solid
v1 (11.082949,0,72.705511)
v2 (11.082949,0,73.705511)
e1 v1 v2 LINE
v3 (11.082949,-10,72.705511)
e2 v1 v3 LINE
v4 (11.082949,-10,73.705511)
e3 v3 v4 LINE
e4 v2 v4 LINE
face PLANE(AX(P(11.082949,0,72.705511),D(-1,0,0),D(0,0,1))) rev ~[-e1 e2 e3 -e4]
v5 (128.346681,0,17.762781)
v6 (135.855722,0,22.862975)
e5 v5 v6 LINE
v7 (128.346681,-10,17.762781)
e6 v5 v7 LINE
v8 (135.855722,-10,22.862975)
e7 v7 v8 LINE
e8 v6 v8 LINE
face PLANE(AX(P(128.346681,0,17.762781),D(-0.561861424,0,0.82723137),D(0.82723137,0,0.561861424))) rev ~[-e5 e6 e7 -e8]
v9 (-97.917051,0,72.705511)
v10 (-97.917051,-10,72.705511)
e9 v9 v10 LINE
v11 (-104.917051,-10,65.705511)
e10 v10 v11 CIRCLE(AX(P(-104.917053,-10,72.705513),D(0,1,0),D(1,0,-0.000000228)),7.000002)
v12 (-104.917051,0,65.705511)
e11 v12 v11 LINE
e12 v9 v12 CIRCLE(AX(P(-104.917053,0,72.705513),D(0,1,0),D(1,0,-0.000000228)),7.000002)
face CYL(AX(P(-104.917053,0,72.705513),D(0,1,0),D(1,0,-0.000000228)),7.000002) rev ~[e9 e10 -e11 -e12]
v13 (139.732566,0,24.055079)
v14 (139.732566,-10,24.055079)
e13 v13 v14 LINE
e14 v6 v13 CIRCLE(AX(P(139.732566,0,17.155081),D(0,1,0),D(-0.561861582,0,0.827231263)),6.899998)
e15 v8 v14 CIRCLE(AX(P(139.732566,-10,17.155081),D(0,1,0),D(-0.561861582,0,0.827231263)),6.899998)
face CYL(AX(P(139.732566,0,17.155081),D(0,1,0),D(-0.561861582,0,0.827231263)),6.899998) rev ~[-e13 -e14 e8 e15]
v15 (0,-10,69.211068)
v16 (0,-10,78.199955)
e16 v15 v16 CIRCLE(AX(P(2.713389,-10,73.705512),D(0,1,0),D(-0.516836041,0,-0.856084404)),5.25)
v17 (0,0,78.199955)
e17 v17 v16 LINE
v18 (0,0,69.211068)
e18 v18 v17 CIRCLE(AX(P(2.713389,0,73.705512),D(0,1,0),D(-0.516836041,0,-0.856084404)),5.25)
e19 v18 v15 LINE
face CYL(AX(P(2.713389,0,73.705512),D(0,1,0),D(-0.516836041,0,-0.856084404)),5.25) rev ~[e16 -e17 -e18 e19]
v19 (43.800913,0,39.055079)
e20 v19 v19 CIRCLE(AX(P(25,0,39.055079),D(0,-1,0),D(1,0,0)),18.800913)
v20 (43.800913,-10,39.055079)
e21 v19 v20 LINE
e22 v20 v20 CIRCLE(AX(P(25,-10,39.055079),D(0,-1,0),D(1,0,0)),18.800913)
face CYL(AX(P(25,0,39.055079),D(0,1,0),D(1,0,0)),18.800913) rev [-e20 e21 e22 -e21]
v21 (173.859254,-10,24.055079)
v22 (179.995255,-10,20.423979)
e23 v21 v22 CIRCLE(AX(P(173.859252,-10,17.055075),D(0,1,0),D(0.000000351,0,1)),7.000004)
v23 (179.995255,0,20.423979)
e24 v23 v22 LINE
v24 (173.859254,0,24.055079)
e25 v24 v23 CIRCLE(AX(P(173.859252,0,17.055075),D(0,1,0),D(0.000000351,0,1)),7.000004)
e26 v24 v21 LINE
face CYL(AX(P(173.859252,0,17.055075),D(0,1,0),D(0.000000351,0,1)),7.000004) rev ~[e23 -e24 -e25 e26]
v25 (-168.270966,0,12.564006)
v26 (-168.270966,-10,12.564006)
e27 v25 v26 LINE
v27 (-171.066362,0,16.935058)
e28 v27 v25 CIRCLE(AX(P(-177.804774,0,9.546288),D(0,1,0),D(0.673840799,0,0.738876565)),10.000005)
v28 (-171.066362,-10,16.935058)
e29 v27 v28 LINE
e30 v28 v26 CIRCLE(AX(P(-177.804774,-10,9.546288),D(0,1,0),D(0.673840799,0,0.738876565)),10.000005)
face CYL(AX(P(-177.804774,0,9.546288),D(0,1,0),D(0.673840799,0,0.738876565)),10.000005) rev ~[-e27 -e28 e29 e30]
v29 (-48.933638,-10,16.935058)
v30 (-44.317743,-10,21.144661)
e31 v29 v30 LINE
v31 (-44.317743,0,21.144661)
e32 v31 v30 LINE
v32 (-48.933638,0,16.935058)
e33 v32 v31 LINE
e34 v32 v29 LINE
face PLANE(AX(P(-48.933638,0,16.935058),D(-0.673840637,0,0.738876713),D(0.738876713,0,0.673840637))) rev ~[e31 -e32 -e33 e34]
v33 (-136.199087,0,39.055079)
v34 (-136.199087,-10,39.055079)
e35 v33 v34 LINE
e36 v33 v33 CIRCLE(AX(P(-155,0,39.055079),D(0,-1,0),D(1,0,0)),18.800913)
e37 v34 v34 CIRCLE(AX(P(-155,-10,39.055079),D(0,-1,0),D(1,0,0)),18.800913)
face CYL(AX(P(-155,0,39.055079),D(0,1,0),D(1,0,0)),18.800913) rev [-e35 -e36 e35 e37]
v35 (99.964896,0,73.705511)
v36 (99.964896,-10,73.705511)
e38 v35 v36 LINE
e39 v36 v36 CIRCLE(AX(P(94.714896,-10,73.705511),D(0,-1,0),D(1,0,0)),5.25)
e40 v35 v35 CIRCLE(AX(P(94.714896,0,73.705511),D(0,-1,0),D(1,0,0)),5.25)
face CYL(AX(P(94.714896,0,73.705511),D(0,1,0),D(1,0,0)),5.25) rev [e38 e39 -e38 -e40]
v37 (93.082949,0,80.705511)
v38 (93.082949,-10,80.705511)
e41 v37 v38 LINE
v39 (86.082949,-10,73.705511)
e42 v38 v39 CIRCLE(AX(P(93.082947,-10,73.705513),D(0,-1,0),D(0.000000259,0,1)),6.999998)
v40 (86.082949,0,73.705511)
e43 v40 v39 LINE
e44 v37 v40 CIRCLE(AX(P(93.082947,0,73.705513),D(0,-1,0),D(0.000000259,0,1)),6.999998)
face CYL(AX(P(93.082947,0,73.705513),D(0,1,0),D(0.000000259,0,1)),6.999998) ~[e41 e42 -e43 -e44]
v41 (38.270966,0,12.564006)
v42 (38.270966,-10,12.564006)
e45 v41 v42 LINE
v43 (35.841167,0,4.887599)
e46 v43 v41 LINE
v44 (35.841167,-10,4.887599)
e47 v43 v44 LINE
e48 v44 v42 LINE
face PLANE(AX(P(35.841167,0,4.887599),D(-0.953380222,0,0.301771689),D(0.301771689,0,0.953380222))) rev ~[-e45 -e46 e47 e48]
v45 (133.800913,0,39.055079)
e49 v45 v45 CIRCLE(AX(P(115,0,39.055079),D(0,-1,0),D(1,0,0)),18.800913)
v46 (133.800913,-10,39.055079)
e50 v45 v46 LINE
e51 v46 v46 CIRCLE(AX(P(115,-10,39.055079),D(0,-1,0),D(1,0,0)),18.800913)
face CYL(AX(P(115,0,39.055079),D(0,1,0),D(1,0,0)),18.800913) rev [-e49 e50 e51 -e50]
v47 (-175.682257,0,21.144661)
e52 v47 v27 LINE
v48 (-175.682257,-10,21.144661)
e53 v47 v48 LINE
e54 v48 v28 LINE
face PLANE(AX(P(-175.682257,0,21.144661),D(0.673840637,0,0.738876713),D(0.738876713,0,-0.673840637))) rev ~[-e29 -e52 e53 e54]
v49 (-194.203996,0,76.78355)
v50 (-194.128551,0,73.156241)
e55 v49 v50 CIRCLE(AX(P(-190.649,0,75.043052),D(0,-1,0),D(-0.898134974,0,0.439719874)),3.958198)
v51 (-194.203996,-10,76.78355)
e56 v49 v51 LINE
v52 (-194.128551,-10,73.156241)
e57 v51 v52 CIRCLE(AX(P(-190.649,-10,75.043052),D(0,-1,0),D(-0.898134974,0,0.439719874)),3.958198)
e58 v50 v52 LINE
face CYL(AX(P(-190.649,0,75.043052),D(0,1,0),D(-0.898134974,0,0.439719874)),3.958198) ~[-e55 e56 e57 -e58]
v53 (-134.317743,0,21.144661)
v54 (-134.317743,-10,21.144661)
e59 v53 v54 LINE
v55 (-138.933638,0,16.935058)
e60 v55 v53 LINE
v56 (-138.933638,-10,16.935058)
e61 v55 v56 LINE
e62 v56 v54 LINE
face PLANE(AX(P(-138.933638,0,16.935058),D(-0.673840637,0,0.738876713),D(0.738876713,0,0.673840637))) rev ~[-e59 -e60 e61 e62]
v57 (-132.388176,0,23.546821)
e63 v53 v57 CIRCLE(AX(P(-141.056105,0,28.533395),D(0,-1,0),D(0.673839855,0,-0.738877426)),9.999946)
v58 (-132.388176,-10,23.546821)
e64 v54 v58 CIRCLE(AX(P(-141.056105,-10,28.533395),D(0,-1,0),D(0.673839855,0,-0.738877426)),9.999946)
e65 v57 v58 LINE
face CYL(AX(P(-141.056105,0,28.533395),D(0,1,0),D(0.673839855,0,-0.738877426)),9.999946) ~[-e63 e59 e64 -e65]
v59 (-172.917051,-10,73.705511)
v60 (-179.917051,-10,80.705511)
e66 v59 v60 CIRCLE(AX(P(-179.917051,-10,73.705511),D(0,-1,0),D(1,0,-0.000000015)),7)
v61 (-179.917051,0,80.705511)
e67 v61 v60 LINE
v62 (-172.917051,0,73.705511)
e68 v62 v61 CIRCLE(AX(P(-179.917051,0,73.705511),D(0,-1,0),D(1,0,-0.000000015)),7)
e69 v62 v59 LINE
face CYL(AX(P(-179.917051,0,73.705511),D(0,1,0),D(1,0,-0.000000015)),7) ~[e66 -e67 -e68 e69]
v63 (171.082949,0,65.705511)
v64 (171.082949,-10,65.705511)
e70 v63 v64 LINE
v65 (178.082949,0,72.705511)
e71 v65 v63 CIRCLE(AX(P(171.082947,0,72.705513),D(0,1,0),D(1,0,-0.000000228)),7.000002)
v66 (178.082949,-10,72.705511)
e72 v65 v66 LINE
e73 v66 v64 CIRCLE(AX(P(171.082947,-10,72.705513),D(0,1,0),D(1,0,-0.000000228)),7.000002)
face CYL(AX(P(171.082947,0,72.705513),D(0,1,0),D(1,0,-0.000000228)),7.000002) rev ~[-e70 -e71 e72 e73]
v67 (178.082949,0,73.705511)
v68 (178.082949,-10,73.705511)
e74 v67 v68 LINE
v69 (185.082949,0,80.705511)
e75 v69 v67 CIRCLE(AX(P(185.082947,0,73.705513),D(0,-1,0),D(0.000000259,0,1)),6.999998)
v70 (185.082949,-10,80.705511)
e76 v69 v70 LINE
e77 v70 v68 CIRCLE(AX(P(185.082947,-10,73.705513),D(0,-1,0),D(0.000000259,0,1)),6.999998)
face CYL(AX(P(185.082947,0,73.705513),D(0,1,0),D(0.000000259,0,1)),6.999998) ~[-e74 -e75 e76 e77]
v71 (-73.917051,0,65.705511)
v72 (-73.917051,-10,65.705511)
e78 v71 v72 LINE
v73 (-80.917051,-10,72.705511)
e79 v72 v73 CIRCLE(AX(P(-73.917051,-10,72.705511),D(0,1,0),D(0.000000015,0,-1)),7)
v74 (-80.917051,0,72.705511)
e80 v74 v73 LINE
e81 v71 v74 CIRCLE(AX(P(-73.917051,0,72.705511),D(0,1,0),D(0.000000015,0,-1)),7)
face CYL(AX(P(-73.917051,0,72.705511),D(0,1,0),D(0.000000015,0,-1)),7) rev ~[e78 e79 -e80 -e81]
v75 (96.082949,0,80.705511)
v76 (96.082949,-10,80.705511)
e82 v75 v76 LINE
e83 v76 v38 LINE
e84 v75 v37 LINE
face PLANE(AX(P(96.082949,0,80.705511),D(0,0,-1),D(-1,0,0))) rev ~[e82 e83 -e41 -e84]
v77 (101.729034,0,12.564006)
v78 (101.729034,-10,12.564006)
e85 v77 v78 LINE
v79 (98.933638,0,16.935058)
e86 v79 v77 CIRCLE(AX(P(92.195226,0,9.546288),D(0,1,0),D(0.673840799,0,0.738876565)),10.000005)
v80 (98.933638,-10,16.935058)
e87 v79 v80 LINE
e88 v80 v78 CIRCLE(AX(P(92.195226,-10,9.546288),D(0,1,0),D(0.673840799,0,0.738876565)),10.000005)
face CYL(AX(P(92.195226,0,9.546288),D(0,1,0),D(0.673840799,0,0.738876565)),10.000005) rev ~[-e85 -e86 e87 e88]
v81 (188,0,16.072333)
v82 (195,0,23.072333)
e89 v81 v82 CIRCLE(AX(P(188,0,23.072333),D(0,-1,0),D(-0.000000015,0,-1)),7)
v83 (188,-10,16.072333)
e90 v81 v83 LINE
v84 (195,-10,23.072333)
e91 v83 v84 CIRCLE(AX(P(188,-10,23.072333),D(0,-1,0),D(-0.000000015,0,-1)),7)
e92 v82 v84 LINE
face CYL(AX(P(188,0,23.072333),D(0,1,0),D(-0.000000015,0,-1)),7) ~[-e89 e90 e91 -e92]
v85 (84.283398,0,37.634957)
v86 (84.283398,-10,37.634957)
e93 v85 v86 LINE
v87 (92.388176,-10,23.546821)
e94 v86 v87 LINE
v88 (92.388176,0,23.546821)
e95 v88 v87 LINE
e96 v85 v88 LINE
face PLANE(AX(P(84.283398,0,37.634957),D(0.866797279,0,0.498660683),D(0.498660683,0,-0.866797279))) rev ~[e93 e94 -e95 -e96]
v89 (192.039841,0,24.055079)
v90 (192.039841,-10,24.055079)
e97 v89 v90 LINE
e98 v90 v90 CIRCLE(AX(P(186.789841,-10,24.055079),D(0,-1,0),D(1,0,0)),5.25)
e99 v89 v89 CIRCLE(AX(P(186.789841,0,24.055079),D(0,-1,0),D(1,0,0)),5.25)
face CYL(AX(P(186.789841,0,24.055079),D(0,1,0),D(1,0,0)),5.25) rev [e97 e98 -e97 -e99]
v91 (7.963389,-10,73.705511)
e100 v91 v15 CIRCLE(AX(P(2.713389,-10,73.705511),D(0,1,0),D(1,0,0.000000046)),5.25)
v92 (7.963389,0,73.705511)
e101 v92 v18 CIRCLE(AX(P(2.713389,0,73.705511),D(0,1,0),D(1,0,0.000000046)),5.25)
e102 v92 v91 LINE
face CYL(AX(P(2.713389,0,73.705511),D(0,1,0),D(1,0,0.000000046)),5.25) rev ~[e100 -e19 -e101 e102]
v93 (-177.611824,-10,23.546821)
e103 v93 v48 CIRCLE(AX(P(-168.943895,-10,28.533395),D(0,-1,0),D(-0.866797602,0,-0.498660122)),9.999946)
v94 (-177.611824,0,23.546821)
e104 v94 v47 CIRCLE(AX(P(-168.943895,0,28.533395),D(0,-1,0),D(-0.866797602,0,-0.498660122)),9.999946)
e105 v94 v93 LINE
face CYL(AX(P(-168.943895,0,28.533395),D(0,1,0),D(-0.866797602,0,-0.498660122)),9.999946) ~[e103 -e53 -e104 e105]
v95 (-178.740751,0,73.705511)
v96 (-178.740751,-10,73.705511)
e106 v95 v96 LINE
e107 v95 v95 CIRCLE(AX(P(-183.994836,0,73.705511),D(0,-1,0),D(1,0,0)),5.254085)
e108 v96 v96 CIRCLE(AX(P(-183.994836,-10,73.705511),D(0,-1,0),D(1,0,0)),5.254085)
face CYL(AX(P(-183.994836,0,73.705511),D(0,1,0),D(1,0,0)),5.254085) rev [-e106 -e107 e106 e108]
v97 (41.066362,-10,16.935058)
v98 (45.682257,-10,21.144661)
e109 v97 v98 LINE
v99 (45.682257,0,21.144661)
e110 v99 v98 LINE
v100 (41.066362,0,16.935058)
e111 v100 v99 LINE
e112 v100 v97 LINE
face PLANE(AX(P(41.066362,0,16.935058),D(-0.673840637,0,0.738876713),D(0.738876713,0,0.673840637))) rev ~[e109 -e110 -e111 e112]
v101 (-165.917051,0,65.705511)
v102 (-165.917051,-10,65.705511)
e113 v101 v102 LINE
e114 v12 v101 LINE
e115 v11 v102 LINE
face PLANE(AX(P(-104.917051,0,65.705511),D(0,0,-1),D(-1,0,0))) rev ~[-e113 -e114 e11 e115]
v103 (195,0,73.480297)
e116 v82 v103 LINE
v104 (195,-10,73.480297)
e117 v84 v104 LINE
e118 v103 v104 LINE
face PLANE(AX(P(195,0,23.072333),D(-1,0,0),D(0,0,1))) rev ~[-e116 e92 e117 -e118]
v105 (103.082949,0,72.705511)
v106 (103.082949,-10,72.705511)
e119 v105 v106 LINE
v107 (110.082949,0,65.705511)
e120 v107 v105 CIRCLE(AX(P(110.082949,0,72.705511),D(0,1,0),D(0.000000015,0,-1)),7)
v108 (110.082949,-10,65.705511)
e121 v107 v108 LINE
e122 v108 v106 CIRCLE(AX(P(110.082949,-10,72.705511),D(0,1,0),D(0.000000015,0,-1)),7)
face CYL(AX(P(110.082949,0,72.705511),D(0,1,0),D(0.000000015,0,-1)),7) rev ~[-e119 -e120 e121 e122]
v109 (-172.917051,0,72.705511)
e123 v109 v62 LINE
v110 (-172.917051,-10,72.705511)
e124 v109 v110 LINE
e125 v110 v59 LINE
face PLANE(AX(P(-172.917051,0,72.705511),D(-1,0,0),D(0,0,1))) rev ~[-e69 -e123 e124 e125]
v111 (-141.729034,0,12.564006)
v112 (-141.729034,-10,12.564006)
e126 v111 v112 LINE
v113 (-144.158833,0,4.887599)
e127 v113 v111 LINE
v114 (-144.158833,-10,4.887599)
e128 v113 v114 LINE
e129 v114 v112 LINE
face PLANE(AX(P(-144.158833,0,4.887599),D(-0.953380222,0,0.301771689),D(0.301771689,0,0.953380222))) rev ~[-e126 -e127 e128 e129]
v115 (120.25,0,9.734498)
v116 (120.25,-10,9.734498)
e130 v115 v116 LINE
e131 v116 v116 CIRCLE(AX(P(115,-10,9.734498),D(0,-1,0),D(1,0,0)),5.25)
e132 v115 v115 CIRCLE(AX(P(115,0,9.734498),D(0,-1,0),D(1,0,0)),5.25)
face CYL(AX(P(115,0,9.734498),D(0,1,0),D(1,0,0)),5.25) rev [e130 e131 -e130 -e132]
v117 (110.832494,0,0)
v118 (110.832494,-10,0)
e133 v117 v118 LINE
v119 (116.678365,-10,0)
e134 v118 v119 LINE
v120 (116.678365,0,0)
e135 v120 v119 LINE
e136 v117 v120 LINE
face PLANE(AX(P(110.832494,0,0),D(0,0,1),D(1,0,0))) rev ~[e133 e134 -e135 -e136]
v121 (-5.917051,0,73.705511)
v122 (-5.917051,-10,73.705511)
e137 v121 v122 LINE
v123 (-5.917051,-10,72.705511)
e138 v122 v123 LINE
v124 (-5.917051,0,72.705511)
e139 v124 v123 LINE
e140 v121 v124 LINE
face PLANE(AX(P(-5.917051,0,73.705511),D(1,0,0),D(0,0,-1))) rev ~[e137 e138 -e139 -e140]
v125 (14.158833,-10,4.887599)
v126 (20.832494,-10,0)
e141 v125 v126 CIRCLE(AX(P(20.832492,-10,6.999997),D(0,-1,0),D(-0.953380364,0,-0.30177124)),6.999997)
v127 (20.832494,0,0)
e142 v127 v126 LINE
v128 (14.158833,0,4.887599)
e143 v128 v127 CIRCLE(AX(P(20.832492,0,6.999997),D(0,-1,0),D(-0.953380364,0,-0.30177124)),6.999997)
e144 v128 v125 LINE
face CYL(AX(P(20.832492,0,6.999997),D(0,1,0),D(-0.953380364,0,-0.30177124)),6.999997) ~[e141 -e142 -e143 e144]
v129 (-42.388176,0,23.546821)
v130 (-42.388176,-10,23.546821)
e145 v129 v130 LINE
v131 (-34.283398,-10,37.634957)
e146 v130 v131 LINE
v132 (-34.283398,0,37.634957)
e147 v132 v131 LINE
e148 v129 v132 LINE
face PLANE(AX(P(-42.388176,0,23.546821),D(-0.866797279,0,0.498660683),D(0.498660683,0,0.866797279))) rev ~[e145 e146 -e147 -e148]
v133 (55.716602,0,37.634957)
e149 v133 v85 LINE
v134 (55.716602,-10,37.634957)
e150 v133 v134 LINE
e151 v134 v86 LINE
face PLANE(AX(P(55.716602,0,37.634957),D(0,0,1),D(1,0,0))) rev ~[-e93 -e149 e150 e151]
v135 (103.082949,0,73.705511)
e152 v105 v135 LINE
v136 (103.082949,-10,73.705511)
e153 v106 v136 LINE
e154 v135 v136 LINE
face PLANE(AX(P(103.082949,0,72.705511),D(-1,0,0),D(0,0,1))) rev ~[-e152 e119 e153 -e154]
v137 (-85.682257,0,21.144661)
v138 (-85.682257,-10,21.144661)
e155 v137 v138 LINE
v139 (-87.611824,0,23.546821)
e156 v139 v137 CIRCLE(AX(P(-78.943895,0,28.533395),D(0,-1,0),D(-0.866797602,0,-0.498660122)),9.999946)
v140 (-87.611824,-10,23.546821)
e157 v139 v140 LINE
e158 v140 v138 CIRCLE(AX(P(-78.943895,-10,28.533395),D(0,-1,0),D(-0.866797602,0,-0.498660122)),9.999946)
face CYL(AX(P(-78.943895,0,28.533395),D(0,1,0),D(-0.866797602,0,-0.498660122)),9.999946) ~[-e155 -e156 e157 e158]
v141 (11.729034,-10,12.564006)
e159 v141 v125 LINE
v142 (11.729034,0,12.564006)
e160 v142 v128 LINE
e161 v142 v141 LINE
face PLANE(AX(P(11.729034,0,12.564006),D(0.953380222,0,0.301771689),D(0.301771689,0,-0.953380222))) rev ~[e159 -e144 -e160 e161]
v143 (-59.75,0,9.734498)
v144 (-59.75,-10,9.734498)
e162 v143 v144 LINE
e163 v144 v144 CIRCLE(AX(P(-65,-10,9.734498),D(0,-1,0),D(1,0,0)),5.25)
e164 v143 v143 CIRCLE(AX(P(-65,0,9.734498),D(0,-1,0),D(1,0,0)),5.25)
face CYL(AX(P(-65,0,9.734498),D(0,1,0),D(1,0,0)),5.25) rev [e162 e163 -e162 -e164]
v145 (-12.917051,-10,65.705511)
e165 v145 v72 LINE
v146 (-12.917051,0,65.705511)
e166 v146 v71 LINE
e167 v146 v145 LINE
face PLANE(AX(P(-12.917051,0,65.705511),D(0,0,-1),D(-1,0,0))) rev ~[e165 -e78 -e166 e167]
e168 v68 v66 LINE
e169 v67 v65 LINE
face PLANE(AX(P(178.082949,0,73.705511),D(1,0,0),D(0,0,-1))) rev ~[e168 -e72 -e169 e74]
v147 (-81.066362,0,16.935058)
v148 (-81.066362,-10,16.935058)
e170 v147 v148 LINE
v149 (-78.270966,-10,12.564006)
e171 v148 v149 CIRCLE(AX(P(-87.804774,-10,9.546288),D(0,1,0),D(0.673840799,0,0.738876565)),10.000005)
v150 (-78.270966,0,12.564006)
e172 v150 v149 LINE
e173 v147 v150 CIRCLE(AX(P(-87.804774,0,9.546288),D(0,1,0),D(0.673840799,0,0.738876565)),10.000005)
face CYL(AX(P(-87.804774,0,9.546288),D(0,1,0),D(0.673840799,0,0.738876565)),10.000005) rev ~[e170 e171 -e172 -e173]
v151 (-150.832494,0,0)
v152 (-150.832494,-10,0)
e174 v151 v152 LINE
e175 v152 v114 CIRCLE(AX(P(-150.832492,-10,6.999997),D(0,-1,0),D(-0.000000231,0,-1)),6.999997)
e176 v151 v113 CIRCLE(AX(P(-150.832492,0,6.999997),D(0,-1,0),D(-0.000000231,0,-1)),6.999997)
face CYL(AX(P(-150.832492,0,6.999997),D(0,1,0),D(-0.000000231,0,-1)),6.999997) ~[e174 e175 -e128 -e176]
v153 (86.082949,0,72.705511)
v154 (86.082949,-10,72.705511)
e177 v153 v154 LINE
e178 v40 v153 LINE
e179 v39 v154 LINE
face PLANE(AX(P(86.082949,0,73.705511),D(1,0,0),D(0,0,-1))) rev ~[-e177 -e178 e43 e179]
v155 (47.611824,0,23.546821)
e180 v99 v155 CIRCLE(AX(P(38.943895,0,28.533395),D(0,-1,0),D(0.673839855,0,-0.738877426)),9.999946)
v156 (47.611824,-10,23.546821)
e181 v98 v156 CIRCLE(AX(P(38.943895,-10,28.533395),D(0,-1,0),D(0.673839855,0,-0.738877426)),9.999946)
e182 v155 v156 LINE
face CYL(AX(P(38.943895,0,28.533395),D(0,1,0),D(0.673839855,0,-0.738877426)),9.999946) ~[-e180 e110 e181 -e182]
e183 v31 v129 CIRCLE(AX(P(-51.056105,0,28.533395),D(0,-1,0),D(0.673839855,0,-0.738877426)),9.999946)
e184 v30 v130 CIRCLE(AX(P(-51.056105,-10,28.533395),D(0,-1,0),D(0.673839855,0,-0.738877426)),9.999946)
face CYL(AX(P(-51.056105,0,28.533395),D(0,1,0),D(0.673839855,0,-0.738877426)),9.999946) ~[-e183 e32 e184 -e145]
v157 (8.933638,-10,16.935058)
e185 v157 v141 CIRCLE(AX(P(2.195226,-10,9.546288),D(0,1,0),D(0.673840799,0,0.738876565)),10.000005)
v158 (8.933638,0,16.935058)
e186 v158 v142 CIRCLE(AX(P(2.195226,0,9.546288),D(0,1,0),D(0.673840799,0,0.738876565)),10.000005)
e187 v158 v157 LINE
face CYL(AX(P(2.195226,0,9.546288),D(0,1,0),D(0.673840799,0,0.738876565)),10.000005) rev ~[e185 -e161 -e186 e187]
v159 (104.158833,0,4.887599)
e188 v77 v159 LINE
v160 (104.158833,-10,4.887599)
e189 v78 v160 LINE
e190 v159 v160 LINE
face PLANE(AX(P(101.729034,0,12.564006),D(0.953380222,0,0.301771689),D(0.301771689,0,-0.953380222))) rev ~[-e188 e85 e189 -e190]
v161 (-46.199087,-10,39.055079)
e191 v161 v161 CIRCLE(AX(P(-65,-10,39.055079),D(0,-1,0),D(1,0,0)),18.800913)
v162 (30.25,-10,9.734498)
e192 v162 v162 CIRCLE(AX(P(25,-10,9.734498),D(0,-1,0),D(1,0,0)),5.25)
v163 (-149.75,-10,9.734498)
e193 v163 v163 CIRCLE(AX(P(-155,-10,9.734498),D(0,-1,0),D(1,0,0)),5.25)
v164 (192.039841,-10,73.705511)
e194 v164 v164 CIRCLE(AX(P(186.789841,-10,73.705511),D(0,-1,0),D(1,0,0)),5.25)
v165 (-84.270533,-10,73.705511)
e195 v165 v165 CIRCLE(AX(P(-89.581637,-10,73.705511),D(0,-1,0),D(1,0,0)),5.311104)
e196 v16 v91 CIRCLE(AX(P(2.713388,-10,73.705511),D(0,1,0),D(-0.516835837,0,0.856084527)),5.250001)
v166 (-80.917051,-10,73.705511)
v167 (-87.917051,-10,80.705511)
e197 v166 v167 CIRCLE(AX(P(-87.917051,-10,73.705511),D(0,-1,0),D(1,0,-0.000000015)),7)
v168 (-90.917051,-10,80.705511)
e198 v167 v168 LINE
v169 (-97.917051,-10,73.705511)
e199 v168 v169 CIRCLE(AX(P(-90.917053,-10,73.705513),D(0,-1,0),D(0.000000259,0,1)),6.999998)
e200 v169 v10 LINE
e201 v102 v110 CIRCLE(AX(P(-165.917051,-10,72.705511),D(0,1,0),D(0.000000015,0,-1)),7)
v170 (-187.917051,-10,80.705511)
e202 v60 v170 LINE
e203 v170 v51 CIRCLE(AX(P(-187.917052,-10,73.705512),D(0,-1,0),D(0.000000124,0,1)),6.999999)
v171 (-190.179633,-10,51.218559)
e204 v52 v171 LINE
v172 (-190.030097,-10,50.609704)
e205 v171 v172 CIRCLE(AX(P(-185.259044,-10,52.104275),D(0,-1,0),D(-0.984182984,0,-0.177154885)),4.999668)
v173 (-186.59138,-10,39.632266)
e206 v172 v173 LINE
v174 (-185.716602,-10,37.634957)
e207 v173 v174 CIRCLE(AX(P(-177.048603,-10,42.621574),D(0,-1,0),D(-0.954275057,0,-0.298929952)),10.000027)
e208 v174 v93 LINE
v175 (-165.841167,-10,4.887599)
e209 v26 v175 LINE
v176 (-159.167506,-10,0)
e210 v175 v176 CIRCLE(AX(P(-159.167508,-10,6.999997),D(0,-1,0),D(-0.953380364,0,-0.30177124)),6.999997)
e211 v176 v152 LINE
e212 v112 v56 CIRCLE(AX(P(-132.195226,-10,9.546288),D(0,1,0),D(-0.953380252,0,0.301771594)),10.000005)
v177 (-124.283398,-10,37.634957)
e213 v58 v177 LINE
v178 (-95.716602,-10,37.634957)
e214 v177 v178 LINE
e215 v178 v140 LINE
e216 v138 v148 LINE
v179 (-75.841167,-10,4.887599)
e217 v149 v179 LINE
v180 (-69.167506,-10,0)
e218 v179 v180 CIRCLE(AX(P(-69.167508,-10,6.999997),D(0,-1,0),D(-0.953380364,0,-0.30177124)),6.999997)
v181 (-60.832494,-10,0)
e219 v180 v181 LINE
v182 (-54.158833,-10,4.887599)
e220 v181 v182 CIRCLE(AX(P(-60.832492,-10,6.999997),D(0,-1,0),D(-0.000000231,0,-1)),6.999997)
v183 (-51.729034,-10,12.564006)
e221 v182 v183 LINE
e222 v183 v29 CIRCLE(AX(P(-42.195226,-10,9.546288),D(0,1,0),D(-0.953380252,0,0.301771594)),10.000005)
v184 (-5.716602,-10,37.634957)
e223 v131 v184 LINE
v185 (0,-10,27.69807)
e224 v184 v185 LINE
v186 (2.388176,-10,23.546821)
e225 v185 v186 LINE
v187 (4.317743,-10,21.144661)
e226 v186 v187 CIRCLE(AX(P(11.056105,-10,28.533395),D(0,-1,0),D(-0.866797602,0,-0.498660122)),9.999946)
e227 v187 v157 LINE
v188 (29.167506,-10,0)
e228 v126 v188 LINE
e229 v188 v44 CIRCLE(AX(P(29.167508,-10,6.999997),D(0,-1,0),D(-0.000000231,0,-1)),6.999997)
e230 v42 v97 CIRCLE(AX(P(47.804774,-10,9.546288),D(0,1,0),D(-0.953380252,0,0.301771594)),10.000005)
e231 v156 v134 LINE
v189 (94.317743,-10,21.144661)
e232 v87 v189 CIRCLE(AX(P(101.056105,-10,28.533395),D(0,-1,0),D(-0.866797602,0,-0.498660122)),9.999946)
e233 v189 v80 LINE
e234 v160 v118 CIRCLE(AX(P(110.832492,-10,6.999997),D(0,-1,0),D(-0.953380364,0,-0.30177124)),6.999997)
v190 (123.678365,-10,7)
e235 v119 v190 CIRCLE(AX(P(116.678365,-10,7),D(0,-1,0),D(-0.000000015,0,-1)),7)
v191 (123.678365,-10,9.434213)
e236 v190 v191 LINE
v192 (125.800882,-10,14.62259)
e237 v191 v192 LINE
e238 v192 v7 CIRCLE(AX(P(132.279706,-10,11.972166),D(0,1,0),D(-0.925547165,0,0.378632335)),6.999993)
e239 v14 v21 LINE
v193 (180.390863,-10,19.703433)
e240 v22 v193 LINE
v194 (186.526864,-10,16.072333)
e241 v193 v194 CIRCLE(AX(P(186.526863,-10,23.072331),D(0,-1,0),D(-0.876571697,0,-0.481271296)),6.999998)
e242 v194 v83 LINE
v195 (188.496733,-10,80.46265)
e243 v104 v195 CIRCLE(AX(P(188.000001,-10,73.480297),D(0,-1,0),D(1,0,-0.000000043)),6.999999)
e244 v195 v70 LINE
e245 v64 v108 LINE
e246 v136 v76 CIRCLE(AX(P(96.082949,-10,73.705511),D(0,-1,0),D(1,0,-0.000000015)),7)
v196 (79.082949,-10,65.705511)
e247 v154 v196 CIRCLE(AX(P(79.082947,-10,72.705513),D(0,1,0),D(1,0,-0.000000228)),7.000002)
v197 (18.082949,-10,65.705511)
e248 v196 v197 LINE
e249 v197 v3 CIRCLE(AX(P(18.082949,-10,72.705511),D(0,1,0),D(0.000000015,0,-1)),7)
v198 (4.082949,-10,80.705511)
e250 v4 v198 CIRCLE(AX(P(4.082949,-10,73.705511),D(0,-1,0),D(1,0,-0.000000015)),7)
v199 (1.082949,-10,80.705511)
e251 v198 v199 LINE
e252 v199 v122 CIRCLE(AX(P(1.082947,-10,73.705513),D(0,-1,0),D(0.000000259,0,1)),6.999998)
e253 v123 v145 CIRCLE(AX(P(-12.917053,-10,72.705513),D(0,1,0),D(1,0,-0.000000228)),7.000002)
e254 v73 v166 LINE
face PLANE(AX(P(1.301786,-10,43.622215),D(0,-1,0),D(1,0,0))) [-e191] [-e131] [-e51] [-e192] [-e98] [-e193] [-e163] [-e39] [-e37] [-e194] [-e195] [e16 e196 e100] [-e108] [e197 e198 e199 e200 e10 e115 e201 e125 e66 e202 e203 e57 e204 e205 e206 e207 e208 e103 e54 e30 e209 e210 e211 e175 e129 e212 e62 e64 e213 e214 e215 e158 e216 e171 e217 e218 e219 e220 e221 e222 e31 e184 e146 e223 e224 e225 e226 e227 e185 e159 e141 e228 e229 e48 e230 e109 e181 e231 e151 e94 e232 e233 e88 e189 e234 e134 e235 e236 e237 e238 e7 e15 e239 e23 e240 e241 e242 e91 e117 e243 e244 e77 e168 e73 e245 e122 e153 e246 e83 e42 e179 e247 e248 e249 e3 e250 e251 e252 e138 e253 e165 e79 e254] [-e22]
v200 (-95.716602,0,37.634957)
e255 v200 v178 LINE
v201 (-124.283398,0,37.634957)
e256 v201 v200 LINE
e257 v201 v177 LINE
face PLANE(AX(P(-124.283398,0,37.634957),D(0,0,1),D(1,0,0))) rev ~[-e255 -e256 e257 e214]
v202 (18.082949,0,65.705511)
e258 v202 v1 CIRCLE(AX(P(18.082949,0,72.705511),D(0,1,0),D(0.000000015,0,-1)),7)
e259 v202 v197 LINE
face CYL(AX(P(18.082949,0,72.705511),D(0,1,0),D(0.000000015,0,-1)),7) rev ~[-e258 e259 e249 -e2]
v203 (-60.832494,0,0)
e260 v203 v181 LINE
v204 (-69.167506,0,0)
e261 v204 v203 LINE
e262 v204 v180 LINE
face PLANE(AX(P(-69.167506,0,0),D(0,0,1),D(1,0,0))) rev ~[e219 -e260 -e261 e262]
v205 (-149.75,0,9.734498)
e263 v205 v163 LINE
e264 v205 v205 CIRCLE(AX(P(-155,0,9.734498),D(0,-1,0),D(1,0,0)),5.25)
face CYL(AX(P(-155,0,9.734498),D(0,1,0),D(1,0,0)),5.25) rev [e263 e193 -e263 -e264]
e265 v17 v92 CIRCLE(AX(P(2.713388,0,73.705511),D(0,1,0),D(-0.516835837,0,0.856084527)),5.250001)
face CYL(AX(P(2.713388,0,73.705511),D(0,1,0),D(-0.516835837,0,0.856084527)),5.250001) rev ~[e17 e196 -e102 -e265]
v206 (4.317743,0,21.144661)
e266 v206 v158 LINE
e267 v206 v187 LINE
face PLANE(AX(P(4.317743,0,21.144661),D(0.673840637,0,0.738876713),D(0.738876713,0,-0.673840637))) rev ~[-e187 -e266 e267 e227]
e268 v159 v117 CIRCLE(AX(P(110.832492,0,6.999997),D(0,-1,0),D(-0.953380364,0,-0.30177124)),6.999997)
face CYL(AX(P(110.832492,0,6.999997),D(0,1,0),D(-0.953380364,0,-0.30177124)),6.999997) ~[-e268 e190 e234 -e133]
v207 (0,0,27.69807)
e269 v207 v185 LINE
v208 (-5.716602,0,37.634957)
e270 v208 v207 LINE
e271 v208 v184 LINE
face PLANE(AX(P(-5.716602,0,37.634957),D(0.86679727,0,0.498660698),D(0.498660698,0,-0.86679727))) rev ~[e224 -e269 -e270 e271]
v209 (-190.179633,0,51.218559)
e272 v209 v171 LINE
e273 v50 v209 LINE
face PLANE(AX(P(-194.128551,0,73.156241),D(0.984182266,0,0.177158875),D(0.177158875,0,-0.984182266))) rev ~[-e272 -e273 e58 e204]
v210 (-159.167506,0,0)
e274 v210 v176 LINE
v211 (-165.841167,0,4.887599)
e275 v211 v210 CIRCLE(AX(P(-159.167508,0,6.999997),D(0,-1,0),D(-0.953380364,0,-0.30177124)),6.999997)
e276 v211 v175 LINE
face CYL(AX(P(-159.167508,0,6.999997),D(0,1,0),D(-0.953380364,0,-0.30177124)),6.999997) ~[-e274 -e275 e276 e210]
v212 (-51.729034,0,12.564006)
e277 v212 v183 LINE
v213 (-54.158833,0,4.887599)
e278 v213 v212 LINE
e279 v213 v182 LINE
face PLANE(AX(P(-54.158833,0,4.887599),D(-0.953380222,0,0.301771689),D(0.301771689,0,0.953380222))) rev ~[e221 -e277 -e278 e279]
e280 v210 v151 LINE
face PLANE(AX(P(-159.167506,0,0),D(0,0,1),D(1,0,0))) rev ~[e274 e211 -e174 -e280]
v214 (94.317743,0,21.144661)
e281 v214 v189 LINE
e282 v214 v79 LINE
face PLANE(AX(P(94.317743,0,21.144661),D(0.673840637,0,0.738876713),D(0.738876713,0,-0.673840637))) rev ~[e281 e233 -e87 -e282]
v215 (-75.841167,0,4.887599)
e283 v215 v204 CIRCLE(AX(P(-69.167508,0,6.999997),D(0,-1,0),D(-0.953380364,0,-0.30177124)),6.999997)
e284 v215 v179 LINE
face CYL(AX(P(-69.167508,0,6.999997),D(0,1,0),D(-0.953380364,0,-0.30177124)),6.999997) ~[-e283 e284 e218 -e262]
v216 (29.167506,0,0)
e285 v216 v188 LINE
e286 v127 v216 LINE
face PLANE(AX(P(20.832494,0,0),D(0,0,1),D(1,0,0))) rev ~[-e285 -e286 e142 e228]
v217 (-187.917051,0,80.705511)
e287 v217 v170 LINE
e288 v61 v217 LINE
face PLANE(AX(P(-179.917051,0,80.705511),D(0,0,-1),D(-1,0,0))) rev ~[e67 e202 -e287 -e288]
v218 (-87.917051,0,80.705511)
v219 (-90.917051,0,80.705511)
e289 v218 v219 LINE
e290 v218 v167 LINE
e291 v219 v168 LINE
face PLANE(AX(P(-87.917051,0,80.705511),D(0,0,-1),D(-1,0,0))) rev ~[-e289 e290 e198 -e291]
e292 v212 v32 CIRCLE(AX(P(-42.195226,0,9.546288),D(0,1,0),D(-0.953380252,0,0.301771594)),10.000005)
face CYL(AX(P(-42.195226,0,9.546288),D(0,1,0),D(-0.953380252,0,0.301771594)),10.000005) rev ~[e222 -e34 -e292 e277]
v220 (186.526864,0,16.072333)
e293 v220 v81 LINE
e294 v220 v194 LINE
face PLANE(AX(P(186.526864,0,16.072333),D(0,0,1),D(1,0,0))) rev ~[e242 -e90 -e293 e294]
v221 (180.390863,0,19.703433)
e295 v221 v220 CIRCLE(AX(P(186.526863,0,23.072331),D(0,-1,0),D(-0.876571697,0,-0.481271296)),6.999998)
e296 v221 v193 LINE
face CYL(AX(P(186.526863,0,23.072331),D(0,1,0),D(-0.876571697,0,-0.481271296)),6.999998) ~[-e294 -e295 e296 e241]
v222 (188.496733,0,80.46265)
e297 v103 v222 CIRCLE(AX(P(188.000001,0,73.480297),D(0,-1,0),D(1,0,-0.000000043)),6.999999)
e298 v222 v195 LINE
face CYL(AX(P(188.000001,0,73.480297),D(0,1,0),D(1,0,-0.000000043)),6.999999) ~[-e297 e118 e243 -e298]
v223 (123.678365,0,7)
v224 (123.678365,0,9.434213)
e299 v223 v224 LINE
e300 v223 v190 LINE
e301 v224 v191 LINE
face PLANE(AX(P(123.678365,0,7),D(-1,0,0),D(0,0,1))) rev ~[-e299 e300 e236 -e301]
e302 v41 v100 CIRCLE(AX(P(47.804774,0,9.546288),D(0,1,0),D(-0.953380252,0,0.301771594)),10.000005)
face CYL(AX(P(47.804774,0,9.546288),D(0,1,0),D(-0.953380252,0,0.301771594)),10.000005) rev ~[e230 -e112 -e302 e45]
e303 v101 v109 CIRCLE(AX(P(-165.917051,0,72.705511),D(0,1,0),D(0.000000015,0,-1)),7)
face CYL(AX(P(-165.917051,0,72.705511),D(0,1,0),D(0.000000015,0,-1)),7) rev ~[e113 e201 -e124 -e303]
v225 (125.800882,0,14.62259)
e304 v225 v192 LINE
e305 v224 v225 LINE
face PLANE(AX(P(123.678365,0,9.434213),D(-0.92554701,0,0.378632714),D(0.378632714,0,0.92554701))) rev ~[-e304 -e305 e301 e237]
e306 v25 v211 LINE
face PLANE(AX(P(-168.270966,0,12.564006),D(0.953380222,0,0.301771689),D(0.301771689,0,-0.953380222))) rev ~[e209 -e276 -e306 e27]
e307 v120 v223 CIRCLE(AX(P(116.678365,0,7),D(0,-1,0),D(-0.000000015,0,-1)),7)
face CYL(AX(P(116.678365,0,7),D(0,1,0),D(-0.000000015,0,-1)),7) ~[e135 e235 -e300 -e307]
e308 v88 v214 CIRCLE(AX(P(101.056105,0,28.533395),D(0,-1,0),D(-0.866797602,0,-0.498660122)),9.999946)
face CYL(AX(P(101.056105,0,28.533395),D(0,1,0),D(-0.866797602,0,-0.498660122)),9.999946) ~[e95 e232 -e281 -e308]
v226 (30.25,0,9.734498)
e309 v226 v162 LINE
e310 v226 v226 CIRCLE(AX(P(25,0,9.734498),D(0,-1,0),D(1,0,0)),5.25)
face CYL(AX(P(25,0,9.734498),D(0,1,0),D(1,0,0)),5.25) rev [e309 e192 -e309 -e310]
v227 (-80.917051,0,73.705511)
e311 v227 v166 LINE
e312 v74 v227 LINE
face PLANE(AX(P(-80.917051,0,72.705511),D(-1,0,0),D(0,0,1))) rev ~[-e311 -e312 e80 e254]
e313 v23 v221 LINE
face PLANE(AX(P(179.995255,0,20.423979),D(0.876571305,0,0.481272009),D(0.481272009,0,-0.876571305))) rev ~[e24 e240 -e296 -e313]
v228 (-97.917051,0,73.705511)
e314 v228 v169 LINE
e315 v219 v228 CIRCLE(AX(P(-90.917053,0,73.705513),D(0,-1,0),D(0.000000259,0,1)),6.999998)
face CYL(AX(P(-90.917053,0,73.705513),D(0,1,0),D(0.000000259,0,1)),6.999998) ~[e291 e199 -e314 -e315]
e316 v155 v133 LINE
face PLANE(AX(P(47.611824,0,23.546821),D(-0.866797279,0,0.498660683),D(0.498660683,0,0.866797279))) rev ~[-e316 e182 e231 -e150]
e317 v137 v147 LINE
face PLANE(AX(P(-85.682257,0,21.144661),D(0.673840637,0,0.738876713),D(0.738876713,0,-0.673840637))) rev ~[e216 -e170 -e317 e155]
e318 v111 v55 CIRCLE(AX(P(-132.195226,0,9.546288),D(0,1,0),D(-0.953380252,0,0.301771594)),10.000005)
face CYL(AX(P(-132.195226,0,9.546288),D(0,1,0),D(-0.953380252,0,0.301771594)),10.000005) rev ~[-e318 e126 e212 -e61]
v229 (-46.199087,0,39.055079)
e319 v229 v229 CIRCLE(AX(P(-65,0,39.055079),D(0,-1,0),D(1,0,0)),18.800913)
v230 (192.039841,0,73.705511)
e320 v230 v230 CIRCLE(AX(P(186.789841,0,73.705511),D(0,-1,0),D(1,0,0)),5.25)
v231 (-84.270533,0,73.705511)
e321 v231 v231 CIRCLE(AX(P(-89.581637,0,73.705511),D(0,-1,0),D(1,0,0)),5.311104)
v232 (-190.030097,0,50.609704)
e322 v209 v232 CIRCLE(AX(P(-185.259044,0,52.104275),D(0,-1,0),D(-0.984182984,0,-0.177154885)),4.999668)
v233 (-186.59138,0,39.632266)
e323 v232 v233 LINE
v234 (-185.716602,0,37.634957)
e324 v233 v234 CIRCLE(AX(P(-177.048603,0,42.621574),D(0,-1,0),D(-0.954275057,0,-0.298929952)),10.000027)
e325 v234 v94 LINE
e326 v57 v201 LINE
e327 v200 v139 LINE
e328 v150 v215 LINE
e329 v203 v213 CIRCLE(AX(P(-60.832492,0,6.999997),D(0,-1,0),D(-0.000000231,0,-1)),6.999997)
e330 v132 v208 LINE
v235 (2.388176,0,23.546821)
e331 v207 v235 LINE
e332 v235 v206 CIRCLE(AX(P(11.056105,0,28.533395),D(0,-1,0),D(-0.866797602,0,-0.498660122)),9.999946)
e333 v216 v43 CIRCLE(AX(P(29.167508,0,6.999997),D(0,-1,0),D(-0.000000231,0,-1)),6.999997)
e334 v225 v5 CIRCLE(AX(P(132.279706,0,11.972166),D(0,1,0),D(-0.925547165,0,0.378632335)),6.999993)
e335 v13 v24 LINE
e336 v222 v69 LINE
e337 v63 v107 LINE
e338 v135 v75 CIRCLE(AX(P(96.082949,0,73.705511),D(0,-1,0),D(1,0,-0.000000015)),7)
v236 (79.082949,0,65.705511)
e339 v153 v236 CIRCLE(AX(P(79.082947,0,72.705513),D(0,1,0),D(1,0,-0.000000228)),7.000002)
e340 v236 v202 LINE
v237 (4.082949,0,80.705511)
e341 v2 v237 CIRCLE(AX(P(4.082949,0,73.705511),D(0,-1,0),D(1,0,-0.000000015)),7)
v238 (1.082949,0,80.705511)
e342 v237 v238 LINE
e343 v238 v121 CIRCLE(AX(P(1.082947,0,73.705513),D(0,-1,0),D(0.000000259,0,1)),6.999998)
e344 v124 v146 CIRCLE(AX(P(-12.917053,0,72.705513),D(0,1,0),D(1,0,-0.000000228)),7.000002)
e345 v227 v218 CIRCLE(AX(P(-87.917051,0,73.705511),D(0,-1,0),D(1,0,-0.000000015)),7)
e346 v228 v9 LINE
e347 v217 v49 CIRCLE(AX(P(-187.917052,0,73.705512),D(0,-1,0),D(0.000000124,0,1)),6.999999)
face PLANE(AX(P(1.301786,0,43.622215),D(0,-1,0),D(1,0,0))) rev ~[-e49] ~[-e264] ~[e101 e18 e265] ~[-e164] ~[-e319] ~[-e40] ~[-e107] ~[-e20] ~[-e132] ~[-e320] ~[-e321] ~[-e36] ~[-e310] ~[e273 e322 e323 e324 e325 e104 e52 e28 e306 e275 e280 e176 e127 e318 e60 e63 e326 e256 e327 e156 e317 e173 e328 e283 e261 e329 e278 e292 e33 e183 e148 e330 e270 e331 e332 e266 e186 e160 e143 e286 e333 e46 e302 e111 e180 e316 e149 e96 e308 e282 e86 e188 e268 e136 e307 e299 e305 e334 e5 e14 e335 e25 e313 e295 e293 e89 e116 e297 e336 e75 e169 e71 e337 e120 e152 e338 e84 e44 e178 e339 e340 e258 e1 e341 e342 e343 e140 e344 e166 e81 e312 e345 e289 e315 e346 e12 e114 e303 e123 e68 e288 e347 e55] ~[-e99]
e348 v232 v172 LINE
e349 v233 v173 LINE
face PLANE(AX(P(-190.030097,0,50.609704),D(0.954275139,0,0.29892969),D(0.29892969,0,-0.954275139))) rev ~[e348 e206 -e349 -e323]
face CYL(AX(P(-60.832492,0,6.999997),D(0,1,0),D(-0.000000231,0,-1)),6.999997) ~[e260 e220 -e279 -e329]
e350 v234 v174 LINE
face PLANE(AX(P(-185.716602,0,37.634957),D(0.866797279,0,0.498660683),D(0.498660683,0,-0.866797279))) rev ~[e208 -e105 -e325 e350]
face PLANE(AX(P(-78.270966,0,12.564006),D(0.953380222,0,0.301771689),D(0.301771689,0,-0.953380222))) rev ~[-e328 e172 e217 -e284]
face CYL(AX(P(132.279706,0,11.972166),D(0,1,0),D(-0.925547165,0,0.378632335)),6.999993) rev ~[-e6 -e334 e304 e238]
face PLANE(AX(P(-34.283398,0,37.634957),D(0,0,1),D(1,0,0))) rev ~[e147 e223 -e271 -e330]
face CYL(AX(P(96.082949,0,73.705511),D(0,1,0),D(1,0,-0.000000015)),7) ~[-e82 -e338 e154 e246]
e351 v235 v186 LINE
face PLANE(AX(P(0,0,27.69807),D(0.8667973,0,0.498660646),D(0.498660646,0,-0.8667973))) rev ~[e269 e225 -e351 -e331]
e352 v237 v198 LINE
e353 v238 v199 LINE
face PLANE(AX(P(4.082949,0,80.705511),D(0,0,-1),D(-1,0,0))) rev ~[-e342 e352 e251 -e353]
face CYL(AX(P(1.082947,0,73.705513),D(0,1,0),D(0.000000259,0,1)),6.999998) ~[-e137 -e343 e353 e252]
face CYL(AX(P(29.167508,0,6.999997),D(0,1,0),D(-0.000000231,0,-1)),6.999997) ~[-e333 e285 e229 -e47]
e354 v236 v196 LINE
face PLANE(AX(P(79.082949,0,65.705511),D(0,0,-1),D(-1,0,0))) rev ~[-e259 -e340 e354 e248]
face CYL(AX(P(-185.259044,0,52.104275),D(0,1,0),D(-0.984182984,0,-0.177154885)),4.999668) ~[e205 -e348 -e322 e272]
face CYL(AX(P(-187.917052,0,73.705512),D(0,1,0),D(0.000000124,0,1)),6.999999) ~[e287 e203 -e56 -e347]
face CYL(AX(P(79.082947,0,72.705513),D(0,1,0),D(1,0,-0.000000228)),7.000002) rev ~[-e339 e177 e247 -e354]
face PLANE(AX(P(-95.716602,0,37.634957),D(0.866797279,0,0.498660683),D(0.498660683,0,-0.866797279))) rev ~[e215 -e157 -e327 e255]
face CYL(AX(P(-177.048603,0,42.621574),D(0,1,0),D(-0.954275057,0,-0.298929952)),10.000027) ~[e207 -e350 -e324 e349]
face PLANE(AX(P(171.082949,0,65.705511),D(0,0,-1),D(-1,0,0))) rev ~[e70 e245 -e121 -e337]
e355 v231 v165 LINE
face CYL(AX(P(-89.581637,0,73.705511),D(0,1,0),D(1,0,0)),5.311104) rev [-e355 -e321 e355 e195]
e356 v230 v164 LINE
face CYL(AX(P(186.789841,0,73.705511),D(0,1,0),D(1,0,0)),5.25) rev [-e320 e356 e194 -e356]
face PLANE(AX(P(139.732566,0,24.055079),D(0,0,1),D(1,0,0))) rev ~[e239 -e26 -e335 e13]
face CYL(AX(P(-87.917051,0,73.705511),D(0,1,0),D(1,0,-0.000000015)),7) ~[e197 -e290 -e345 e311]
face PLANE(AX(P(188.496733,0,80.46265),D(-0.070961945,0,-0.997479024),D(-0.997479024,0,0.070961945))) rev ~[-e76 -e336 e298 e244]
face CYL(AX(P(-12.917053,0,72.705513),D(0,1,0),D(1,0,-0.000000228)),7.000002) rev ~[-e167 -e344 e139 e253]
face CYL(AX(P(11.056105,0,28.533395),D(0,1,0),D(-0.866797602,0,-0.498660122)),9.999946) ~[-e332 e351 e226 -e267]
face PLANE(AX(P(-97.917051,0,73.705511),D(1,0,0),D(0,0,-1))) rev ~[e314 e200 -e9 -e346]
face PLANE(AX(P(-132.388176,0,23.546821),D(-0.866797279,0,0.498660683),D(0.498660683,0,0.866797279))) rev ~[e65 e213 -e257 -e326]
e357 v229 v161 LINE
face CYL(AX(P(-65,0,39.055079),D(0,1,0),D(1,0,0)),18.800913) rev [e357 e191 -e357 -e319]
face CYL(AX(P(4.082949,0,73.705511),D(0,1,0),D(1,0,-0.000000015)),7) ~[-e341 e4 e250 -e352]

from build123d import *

# Parameters (mm, degrees)
F0_R     = 5.25
F0_R_2   = 18.800913
F0_R_3   = 5.254085
F0_R_4   = 5.311104
F1_DEPTH = 10


with BuildPart() as f1:
    # F0 (on Front) → F1 (new body)
    with BuildSketch(Plane.XZ):
        with BuildLine():
            Line((195, 23.072333), (195, 73.480297))
            ThreePointArc((195, 73.480297), (193.122359, 78.251192), (188.496733, 80.46265))
            Line((188.496733, 80.46265), (185.082949, 80.705511))
            ThreePointArc((185.082949, 80.705511), (180.133201, 78.655259), (178.082949, 73.705511))
            Line((178.082949, 73.705511), (178.082949, 72.705511))
            ThreePointArc((178.082949, 72.705511), (176.032696, 67.755764), (171.082949, 65.705511))
            Line((171.082949, 65.705511), (110.082949, 65.705511))
            ThreePointArc((110.082949, 65.705511), (105.133201, 67.755764), (103.082949, 72.705511))
            Line((103.082949, 72.705511), (103.082949, 73.705511))
            ThreePointArc((103.082949, 73.705511), (101.032696, 78.655259), (96.082949, 80.705511))
            Line((96.082949, 80.705511), (93.082949, 80.705511))
            ThreePointArc((93.082949, 80.705511), (88.133201, 78.655259), (86.082949, 73.705511))
            Line((86.082949, 73.705511), (86.082949, 72.705511))
            ThreePointArc((86.082949, 72.705511), (84.032696, 67.755764), (79.082949, 65.705511))
            Line((79.082949, 65.705511), (18.082949, 65.705511))
            ThreePointArc((18.082949, 65.705511), (13.133201, 67.755764), (11.082949, 72.705511))
            Line((11.082949, 72.705511), (11.082949, 73.705511))
            ThreePointArc((11.082949, 73.705511), (9.032696, 78.655259), (4.082949, 80.705511))
            Line((4.082949, 80.705511), (1.082949, 80.705511))
            ThreePointArc((1.082949, 80.705511), (-3.866799, 78.655259), (-5.917051, 73.705511))
            Line((-5.917051, 73.705511), (-5.917051, 72.705511))
            ThreePointArc((-5.917051, 72.705511), (-7.967304, 67.755764), (-12.917051, 65.705511))
            Line((-12.917051, 65.705511), (-73.917051, 65.705511))
            ThreePointArc((-73.917051, 65.705511), (-78.866799, 67.755764), (-80.917051, 72.705511))
            Line((-80.917051, 72.705511), (-80.917051, 73.705511))
            ThreePointArc((-80.917051, 73.705511), (-82.967304, 78.655259), (-87.917051, 80.705511))
            Line((-87.917051, 80.705511), (-90.917051, 80.705511))
            ThreePointArc((-90.917051, 80.705511), (-95.866799, 78.655259), (-97.917051, 73.705511))
            Line((-97.917051, 73.705511), (-97.917051, 72.705511))
            ThreePointArc((-97.917051, 72.705511), (-99.967304, 67.755764), (-104.917051, 65.705511))
            Line((-104.917051, 65.705511), (-165.917051, 65.705511))
            ThreePointArc((-165.917051, 65.705511), (-170.866799, 67.755764), (-172.917051, 72.705511))
            Line((-172.917051, 72.705511), (-172.917051, 73.705511))
            ThreePointArc((-172.917051, 73.705511), (-174.967304, 78.655259), (-179.917051, 80.705511))
            Line((-179.917051, 80.705511), (-187.917051, 80.705511))
            ThreePointArc((-187.917051, 80.705511), (-191.62203, 79.64463), (-194.203996, 76.78355))
            ThreePointArc((-194.203996, 76.78355), (-194.606342, 74.960742), (-194.128551, 73.156241))
            Line((-194.128551, 73.156241), (-190.179633, 51.218559))
            ThreePointArc((-190.179633, 51.218559), (-190.114418, 50.911785), (-190.030097, 50.609704))
            Line((-190.030097, 50.609704), (-186.59138, 39.632266))
            ThreePointArc((-186.59138, 39.632266), (-186.208592, 38.609697), (-185.716602, 37.634957))
            Line((-185.716602, 37.634957), (-177.611824, 23.546821))
            ThreePointArc((-177.611824, 23.546821), (-176.740115, 22.270978), (-175.682257, 21.144661))
            Line((-175.682257, 21.144661), (-171.066362, 16.935058))
            ThreePointArc((-171.066362, 16.935058), (-169.380238, 14.933988), (-168.270966, 12.564006))
            Line((-168.270966, 12.564006), (-165.841167, 4.887599))
            ThreePointArc((-165.841167, 4.887599), (-163.303518, 1.352575), (-159.167506, 0))
            Line((-159.167506, 0), (-155, 0))
            Line((-155, 0), (-150.832494, 0))
            ThreePointArc((-150.832494, 0), (-146.696482, 1.352575), (-144.158833, 4.887599))
            Line((-144.158833, 4.887599), (-141.729034, 12.564006))
            ThreePointArc((-141.729034, 12.564006), (-140.619762, 14.933988), (-138.933638, 16.935058))
            Line((-138.933638, 16.935058), (-134.317743, 21.144661))
            ThreePointArc((-134.317743, 21.144661), (-133.259885, 22.270978), (-132.388176, 23.546821))
            Line((-132.388176, 23.546821), (-124.283398, 37.634957))
            Line((-124.283398, 37.634957), (-95.716602, 37.634957))
            Line((-95.716602, 37.634957), (-87.611824, 23.546821))
            ThreePointArc((-87.611824, 23.546821), (-86.740115, 22.270978), (-85.682257, 21.144661))
            Line((-85.682257, 21.144661), (-81.066362, 16.935058))
            ThreePointArc((-81.066362, 16.935058), (-79.380238, 14.933988), (-78.270966, 12.564006))
            Line((-78.270966, 12.564006), (-75.841167, 4.887599))
            ThreePointArc((-75.841167, 4.887599), (-73.303518, 1.352575), (-69.167506, 0))
            Line((-69.167506, 0), (-60.832494, 0))
            ThreePointArc((-60.832494, 0), (-56.696482, 1.352575), (-54.158833, 4.887599))
            Line((-54.158833, 4.887599), (-51.729034, 12.564006))
            ThreePointArc((-51.729034, 12.564006), (-50.619762, 14.933988), (-48.933638, 16.935058))
            Line((-48.933638, 16.935058), (-44.317743, 21.144661))
            ThreePointArc((-44.317743, 21.144661), (-43.259885, 22.270978), (-42.388176, 23.546821))
            Line((-42.388176, 23.546821), (-34.283398, 37.634957))
            Line((-34.283398, 37.634957), (-5.716602, 37.634957))
            Line((-5.716602, 37.634957), (0, 27.69807))
            Line((0, 27.69807), (2.388176, 23.546821))
            ThreePointArc((2.388176, 23.546821), (3.259885, 22.270978), (4.317743, 21.144661))
            Line((4.317743, 21.144661), (8.933638, 16.935058))
            ThreePointArc((8.933638, 16.935058), (10.619762, 14.933988), (11.729034, 12.564006))
            Line((11.729034, 12.564006), (14.158833, 4.887599))
            ThreePointArc((14.158833, 4.887599), (16.696482, 1.352575), (20.832494, 0))
            Line((20.832494, 0), (29.167506, 0))
            ThreePointArc((29.167506, 0), (33.303518, 1.352575), (35.841167, 4.887599))
            Line((35.841167, 4.887599), (38.270966, 12.564006))
            ThreePointArc((38.270966, 12.564006), (39.380238, 14.933988), (41.066362, 16.935058))
            Line((41.066362, 16.935058), (45.682257, 21.144661))
            ThreePointArc((45.682257, 21.144661), (46.740115, 22.270978), (47.611824, 23.546821))
            Line((47.611824, 23.546821), (55.716602, 37.634957))
            Line((55.716602, 37.634957), (84.283398, 37.634957))
            Line((84.283398, 37.634957), (92.388176, 23.546821))
            ThreePointArc((92.388176, 23.546821), (93.259885, 22.270978), (94.317743, 21.144661))
            Line((94.317743, 21.144661), (98.933638, 16.935058))
            ThreePointArc((98.933638, 16.935058), (100.619762, 14.933988), (101.729034, 12.564006))
            Line((101.729034, 12.564006), (104.158833, 4.887599))
            ThreePointArc((104.158833, 4.887599), (106.696482, 1.352575), (110.832494, 0))
            Line((110.832494, 0), (116.678365, 0))
            ThreePointArc((116.678365, 0), (121.628113, 2.050253), (123.678365, 7))
            Line((123.678365, 7), (123.678365, 9.434213))
            Line((123.678365, 9.434213), (125.800882, 14.62259))
            ThreePointArc((125.800882, 14.62259), (126.842165, 16.38046), (128.346681, 17.762781))
            Line((128.346681, 17.762781), (135.855722, 22.862975))
            ThreePointArc((135.855722, 22.862975), (137.704573, 23.750323), (139.732566, 24.055079))
            Line((139.732566, 24.055079), (173.859254, 24.055079))
            ThreePointArc((173.859254, 24.055079), (177.424201, 23.079292), (179.995255, 20.423979))
            Line((179.995255, 20.423979), (180.390863, 19.703433))
            ThreePointArc((180.390863, 19.703433), (182.961917, 17.048119), (186.526864, 16.072333))
            Line((186.526864, 16.072333), (188, 16.072333))
            ThreePointArc((188, 16.072333), (192.949747, 18.122585), (195, 23.072333))
        make_face()
        with Locations((-155, 9.734498)):
            Circle(F0_R, mode=Mode.SUBTRACT)
        with Locations((-65, 9.734498)):
            Circle(F0_R, mode=Mode.SUBTRACT)
        with Locations((-155, 39.055079)):
            Circle(F0_R_2, mode=Mode.SUBTRACT)
        with Locations((-65, 39.055079)):
            Circle(F0_R_2, mode=Mode.SUBTRACT)
        with Locations((25, 9.734498)):
            Circle(F0_R, mode=Mode.SUBTRACT)
        with Locations((115, 9.734498)):
            Circle(F0_R, mode=Mode.SUBTRACT)
        with Locations((25, 39.055079)):
            Circle(F0_R_2, mode=Mode.SUBTRACT)
        with Locations((186.789841, 24.055079)):
            Circle(F0_R, mode=Mode.SUBTRACT)
        with Locations((115, 39.055079)):
            Circle(F0_R_2, mode=Mode.SUBTRACT)
        with Locations((-183.994836, 73.705511)):
            Circle(F0_R_3, mode=Mode.SUBTRACT)
        with Locations((-89.581637, 73.705511)):
            Circle(F0_R_4, mode=Mode.SUBTRACT)
        with BuildLine():
            ThreePointArc((7.963389, 73.705511), (5.293816, 69.133433), (0, 69.211068))
            ThreePointArc((0, 69.211068), (-2.536611, 73.705511), (0, 78.199955))
            ThreePointArc((0, 78.199955), (5.293816, 78.277589), (7.963389, 73.705511))
        make_face(mode=Mode.SUBTRACT)
        with Locations((94.714896, 73.705511)):
            Circle(F0_R, mode=Mode.SUBTRACT)
        with Locations((186.789841, 73.705511)):
            Circle(F0_R, mode=Mode.SUBTRACT)
    extrude(amount=F1_DEPTH)


solid = f1.part
